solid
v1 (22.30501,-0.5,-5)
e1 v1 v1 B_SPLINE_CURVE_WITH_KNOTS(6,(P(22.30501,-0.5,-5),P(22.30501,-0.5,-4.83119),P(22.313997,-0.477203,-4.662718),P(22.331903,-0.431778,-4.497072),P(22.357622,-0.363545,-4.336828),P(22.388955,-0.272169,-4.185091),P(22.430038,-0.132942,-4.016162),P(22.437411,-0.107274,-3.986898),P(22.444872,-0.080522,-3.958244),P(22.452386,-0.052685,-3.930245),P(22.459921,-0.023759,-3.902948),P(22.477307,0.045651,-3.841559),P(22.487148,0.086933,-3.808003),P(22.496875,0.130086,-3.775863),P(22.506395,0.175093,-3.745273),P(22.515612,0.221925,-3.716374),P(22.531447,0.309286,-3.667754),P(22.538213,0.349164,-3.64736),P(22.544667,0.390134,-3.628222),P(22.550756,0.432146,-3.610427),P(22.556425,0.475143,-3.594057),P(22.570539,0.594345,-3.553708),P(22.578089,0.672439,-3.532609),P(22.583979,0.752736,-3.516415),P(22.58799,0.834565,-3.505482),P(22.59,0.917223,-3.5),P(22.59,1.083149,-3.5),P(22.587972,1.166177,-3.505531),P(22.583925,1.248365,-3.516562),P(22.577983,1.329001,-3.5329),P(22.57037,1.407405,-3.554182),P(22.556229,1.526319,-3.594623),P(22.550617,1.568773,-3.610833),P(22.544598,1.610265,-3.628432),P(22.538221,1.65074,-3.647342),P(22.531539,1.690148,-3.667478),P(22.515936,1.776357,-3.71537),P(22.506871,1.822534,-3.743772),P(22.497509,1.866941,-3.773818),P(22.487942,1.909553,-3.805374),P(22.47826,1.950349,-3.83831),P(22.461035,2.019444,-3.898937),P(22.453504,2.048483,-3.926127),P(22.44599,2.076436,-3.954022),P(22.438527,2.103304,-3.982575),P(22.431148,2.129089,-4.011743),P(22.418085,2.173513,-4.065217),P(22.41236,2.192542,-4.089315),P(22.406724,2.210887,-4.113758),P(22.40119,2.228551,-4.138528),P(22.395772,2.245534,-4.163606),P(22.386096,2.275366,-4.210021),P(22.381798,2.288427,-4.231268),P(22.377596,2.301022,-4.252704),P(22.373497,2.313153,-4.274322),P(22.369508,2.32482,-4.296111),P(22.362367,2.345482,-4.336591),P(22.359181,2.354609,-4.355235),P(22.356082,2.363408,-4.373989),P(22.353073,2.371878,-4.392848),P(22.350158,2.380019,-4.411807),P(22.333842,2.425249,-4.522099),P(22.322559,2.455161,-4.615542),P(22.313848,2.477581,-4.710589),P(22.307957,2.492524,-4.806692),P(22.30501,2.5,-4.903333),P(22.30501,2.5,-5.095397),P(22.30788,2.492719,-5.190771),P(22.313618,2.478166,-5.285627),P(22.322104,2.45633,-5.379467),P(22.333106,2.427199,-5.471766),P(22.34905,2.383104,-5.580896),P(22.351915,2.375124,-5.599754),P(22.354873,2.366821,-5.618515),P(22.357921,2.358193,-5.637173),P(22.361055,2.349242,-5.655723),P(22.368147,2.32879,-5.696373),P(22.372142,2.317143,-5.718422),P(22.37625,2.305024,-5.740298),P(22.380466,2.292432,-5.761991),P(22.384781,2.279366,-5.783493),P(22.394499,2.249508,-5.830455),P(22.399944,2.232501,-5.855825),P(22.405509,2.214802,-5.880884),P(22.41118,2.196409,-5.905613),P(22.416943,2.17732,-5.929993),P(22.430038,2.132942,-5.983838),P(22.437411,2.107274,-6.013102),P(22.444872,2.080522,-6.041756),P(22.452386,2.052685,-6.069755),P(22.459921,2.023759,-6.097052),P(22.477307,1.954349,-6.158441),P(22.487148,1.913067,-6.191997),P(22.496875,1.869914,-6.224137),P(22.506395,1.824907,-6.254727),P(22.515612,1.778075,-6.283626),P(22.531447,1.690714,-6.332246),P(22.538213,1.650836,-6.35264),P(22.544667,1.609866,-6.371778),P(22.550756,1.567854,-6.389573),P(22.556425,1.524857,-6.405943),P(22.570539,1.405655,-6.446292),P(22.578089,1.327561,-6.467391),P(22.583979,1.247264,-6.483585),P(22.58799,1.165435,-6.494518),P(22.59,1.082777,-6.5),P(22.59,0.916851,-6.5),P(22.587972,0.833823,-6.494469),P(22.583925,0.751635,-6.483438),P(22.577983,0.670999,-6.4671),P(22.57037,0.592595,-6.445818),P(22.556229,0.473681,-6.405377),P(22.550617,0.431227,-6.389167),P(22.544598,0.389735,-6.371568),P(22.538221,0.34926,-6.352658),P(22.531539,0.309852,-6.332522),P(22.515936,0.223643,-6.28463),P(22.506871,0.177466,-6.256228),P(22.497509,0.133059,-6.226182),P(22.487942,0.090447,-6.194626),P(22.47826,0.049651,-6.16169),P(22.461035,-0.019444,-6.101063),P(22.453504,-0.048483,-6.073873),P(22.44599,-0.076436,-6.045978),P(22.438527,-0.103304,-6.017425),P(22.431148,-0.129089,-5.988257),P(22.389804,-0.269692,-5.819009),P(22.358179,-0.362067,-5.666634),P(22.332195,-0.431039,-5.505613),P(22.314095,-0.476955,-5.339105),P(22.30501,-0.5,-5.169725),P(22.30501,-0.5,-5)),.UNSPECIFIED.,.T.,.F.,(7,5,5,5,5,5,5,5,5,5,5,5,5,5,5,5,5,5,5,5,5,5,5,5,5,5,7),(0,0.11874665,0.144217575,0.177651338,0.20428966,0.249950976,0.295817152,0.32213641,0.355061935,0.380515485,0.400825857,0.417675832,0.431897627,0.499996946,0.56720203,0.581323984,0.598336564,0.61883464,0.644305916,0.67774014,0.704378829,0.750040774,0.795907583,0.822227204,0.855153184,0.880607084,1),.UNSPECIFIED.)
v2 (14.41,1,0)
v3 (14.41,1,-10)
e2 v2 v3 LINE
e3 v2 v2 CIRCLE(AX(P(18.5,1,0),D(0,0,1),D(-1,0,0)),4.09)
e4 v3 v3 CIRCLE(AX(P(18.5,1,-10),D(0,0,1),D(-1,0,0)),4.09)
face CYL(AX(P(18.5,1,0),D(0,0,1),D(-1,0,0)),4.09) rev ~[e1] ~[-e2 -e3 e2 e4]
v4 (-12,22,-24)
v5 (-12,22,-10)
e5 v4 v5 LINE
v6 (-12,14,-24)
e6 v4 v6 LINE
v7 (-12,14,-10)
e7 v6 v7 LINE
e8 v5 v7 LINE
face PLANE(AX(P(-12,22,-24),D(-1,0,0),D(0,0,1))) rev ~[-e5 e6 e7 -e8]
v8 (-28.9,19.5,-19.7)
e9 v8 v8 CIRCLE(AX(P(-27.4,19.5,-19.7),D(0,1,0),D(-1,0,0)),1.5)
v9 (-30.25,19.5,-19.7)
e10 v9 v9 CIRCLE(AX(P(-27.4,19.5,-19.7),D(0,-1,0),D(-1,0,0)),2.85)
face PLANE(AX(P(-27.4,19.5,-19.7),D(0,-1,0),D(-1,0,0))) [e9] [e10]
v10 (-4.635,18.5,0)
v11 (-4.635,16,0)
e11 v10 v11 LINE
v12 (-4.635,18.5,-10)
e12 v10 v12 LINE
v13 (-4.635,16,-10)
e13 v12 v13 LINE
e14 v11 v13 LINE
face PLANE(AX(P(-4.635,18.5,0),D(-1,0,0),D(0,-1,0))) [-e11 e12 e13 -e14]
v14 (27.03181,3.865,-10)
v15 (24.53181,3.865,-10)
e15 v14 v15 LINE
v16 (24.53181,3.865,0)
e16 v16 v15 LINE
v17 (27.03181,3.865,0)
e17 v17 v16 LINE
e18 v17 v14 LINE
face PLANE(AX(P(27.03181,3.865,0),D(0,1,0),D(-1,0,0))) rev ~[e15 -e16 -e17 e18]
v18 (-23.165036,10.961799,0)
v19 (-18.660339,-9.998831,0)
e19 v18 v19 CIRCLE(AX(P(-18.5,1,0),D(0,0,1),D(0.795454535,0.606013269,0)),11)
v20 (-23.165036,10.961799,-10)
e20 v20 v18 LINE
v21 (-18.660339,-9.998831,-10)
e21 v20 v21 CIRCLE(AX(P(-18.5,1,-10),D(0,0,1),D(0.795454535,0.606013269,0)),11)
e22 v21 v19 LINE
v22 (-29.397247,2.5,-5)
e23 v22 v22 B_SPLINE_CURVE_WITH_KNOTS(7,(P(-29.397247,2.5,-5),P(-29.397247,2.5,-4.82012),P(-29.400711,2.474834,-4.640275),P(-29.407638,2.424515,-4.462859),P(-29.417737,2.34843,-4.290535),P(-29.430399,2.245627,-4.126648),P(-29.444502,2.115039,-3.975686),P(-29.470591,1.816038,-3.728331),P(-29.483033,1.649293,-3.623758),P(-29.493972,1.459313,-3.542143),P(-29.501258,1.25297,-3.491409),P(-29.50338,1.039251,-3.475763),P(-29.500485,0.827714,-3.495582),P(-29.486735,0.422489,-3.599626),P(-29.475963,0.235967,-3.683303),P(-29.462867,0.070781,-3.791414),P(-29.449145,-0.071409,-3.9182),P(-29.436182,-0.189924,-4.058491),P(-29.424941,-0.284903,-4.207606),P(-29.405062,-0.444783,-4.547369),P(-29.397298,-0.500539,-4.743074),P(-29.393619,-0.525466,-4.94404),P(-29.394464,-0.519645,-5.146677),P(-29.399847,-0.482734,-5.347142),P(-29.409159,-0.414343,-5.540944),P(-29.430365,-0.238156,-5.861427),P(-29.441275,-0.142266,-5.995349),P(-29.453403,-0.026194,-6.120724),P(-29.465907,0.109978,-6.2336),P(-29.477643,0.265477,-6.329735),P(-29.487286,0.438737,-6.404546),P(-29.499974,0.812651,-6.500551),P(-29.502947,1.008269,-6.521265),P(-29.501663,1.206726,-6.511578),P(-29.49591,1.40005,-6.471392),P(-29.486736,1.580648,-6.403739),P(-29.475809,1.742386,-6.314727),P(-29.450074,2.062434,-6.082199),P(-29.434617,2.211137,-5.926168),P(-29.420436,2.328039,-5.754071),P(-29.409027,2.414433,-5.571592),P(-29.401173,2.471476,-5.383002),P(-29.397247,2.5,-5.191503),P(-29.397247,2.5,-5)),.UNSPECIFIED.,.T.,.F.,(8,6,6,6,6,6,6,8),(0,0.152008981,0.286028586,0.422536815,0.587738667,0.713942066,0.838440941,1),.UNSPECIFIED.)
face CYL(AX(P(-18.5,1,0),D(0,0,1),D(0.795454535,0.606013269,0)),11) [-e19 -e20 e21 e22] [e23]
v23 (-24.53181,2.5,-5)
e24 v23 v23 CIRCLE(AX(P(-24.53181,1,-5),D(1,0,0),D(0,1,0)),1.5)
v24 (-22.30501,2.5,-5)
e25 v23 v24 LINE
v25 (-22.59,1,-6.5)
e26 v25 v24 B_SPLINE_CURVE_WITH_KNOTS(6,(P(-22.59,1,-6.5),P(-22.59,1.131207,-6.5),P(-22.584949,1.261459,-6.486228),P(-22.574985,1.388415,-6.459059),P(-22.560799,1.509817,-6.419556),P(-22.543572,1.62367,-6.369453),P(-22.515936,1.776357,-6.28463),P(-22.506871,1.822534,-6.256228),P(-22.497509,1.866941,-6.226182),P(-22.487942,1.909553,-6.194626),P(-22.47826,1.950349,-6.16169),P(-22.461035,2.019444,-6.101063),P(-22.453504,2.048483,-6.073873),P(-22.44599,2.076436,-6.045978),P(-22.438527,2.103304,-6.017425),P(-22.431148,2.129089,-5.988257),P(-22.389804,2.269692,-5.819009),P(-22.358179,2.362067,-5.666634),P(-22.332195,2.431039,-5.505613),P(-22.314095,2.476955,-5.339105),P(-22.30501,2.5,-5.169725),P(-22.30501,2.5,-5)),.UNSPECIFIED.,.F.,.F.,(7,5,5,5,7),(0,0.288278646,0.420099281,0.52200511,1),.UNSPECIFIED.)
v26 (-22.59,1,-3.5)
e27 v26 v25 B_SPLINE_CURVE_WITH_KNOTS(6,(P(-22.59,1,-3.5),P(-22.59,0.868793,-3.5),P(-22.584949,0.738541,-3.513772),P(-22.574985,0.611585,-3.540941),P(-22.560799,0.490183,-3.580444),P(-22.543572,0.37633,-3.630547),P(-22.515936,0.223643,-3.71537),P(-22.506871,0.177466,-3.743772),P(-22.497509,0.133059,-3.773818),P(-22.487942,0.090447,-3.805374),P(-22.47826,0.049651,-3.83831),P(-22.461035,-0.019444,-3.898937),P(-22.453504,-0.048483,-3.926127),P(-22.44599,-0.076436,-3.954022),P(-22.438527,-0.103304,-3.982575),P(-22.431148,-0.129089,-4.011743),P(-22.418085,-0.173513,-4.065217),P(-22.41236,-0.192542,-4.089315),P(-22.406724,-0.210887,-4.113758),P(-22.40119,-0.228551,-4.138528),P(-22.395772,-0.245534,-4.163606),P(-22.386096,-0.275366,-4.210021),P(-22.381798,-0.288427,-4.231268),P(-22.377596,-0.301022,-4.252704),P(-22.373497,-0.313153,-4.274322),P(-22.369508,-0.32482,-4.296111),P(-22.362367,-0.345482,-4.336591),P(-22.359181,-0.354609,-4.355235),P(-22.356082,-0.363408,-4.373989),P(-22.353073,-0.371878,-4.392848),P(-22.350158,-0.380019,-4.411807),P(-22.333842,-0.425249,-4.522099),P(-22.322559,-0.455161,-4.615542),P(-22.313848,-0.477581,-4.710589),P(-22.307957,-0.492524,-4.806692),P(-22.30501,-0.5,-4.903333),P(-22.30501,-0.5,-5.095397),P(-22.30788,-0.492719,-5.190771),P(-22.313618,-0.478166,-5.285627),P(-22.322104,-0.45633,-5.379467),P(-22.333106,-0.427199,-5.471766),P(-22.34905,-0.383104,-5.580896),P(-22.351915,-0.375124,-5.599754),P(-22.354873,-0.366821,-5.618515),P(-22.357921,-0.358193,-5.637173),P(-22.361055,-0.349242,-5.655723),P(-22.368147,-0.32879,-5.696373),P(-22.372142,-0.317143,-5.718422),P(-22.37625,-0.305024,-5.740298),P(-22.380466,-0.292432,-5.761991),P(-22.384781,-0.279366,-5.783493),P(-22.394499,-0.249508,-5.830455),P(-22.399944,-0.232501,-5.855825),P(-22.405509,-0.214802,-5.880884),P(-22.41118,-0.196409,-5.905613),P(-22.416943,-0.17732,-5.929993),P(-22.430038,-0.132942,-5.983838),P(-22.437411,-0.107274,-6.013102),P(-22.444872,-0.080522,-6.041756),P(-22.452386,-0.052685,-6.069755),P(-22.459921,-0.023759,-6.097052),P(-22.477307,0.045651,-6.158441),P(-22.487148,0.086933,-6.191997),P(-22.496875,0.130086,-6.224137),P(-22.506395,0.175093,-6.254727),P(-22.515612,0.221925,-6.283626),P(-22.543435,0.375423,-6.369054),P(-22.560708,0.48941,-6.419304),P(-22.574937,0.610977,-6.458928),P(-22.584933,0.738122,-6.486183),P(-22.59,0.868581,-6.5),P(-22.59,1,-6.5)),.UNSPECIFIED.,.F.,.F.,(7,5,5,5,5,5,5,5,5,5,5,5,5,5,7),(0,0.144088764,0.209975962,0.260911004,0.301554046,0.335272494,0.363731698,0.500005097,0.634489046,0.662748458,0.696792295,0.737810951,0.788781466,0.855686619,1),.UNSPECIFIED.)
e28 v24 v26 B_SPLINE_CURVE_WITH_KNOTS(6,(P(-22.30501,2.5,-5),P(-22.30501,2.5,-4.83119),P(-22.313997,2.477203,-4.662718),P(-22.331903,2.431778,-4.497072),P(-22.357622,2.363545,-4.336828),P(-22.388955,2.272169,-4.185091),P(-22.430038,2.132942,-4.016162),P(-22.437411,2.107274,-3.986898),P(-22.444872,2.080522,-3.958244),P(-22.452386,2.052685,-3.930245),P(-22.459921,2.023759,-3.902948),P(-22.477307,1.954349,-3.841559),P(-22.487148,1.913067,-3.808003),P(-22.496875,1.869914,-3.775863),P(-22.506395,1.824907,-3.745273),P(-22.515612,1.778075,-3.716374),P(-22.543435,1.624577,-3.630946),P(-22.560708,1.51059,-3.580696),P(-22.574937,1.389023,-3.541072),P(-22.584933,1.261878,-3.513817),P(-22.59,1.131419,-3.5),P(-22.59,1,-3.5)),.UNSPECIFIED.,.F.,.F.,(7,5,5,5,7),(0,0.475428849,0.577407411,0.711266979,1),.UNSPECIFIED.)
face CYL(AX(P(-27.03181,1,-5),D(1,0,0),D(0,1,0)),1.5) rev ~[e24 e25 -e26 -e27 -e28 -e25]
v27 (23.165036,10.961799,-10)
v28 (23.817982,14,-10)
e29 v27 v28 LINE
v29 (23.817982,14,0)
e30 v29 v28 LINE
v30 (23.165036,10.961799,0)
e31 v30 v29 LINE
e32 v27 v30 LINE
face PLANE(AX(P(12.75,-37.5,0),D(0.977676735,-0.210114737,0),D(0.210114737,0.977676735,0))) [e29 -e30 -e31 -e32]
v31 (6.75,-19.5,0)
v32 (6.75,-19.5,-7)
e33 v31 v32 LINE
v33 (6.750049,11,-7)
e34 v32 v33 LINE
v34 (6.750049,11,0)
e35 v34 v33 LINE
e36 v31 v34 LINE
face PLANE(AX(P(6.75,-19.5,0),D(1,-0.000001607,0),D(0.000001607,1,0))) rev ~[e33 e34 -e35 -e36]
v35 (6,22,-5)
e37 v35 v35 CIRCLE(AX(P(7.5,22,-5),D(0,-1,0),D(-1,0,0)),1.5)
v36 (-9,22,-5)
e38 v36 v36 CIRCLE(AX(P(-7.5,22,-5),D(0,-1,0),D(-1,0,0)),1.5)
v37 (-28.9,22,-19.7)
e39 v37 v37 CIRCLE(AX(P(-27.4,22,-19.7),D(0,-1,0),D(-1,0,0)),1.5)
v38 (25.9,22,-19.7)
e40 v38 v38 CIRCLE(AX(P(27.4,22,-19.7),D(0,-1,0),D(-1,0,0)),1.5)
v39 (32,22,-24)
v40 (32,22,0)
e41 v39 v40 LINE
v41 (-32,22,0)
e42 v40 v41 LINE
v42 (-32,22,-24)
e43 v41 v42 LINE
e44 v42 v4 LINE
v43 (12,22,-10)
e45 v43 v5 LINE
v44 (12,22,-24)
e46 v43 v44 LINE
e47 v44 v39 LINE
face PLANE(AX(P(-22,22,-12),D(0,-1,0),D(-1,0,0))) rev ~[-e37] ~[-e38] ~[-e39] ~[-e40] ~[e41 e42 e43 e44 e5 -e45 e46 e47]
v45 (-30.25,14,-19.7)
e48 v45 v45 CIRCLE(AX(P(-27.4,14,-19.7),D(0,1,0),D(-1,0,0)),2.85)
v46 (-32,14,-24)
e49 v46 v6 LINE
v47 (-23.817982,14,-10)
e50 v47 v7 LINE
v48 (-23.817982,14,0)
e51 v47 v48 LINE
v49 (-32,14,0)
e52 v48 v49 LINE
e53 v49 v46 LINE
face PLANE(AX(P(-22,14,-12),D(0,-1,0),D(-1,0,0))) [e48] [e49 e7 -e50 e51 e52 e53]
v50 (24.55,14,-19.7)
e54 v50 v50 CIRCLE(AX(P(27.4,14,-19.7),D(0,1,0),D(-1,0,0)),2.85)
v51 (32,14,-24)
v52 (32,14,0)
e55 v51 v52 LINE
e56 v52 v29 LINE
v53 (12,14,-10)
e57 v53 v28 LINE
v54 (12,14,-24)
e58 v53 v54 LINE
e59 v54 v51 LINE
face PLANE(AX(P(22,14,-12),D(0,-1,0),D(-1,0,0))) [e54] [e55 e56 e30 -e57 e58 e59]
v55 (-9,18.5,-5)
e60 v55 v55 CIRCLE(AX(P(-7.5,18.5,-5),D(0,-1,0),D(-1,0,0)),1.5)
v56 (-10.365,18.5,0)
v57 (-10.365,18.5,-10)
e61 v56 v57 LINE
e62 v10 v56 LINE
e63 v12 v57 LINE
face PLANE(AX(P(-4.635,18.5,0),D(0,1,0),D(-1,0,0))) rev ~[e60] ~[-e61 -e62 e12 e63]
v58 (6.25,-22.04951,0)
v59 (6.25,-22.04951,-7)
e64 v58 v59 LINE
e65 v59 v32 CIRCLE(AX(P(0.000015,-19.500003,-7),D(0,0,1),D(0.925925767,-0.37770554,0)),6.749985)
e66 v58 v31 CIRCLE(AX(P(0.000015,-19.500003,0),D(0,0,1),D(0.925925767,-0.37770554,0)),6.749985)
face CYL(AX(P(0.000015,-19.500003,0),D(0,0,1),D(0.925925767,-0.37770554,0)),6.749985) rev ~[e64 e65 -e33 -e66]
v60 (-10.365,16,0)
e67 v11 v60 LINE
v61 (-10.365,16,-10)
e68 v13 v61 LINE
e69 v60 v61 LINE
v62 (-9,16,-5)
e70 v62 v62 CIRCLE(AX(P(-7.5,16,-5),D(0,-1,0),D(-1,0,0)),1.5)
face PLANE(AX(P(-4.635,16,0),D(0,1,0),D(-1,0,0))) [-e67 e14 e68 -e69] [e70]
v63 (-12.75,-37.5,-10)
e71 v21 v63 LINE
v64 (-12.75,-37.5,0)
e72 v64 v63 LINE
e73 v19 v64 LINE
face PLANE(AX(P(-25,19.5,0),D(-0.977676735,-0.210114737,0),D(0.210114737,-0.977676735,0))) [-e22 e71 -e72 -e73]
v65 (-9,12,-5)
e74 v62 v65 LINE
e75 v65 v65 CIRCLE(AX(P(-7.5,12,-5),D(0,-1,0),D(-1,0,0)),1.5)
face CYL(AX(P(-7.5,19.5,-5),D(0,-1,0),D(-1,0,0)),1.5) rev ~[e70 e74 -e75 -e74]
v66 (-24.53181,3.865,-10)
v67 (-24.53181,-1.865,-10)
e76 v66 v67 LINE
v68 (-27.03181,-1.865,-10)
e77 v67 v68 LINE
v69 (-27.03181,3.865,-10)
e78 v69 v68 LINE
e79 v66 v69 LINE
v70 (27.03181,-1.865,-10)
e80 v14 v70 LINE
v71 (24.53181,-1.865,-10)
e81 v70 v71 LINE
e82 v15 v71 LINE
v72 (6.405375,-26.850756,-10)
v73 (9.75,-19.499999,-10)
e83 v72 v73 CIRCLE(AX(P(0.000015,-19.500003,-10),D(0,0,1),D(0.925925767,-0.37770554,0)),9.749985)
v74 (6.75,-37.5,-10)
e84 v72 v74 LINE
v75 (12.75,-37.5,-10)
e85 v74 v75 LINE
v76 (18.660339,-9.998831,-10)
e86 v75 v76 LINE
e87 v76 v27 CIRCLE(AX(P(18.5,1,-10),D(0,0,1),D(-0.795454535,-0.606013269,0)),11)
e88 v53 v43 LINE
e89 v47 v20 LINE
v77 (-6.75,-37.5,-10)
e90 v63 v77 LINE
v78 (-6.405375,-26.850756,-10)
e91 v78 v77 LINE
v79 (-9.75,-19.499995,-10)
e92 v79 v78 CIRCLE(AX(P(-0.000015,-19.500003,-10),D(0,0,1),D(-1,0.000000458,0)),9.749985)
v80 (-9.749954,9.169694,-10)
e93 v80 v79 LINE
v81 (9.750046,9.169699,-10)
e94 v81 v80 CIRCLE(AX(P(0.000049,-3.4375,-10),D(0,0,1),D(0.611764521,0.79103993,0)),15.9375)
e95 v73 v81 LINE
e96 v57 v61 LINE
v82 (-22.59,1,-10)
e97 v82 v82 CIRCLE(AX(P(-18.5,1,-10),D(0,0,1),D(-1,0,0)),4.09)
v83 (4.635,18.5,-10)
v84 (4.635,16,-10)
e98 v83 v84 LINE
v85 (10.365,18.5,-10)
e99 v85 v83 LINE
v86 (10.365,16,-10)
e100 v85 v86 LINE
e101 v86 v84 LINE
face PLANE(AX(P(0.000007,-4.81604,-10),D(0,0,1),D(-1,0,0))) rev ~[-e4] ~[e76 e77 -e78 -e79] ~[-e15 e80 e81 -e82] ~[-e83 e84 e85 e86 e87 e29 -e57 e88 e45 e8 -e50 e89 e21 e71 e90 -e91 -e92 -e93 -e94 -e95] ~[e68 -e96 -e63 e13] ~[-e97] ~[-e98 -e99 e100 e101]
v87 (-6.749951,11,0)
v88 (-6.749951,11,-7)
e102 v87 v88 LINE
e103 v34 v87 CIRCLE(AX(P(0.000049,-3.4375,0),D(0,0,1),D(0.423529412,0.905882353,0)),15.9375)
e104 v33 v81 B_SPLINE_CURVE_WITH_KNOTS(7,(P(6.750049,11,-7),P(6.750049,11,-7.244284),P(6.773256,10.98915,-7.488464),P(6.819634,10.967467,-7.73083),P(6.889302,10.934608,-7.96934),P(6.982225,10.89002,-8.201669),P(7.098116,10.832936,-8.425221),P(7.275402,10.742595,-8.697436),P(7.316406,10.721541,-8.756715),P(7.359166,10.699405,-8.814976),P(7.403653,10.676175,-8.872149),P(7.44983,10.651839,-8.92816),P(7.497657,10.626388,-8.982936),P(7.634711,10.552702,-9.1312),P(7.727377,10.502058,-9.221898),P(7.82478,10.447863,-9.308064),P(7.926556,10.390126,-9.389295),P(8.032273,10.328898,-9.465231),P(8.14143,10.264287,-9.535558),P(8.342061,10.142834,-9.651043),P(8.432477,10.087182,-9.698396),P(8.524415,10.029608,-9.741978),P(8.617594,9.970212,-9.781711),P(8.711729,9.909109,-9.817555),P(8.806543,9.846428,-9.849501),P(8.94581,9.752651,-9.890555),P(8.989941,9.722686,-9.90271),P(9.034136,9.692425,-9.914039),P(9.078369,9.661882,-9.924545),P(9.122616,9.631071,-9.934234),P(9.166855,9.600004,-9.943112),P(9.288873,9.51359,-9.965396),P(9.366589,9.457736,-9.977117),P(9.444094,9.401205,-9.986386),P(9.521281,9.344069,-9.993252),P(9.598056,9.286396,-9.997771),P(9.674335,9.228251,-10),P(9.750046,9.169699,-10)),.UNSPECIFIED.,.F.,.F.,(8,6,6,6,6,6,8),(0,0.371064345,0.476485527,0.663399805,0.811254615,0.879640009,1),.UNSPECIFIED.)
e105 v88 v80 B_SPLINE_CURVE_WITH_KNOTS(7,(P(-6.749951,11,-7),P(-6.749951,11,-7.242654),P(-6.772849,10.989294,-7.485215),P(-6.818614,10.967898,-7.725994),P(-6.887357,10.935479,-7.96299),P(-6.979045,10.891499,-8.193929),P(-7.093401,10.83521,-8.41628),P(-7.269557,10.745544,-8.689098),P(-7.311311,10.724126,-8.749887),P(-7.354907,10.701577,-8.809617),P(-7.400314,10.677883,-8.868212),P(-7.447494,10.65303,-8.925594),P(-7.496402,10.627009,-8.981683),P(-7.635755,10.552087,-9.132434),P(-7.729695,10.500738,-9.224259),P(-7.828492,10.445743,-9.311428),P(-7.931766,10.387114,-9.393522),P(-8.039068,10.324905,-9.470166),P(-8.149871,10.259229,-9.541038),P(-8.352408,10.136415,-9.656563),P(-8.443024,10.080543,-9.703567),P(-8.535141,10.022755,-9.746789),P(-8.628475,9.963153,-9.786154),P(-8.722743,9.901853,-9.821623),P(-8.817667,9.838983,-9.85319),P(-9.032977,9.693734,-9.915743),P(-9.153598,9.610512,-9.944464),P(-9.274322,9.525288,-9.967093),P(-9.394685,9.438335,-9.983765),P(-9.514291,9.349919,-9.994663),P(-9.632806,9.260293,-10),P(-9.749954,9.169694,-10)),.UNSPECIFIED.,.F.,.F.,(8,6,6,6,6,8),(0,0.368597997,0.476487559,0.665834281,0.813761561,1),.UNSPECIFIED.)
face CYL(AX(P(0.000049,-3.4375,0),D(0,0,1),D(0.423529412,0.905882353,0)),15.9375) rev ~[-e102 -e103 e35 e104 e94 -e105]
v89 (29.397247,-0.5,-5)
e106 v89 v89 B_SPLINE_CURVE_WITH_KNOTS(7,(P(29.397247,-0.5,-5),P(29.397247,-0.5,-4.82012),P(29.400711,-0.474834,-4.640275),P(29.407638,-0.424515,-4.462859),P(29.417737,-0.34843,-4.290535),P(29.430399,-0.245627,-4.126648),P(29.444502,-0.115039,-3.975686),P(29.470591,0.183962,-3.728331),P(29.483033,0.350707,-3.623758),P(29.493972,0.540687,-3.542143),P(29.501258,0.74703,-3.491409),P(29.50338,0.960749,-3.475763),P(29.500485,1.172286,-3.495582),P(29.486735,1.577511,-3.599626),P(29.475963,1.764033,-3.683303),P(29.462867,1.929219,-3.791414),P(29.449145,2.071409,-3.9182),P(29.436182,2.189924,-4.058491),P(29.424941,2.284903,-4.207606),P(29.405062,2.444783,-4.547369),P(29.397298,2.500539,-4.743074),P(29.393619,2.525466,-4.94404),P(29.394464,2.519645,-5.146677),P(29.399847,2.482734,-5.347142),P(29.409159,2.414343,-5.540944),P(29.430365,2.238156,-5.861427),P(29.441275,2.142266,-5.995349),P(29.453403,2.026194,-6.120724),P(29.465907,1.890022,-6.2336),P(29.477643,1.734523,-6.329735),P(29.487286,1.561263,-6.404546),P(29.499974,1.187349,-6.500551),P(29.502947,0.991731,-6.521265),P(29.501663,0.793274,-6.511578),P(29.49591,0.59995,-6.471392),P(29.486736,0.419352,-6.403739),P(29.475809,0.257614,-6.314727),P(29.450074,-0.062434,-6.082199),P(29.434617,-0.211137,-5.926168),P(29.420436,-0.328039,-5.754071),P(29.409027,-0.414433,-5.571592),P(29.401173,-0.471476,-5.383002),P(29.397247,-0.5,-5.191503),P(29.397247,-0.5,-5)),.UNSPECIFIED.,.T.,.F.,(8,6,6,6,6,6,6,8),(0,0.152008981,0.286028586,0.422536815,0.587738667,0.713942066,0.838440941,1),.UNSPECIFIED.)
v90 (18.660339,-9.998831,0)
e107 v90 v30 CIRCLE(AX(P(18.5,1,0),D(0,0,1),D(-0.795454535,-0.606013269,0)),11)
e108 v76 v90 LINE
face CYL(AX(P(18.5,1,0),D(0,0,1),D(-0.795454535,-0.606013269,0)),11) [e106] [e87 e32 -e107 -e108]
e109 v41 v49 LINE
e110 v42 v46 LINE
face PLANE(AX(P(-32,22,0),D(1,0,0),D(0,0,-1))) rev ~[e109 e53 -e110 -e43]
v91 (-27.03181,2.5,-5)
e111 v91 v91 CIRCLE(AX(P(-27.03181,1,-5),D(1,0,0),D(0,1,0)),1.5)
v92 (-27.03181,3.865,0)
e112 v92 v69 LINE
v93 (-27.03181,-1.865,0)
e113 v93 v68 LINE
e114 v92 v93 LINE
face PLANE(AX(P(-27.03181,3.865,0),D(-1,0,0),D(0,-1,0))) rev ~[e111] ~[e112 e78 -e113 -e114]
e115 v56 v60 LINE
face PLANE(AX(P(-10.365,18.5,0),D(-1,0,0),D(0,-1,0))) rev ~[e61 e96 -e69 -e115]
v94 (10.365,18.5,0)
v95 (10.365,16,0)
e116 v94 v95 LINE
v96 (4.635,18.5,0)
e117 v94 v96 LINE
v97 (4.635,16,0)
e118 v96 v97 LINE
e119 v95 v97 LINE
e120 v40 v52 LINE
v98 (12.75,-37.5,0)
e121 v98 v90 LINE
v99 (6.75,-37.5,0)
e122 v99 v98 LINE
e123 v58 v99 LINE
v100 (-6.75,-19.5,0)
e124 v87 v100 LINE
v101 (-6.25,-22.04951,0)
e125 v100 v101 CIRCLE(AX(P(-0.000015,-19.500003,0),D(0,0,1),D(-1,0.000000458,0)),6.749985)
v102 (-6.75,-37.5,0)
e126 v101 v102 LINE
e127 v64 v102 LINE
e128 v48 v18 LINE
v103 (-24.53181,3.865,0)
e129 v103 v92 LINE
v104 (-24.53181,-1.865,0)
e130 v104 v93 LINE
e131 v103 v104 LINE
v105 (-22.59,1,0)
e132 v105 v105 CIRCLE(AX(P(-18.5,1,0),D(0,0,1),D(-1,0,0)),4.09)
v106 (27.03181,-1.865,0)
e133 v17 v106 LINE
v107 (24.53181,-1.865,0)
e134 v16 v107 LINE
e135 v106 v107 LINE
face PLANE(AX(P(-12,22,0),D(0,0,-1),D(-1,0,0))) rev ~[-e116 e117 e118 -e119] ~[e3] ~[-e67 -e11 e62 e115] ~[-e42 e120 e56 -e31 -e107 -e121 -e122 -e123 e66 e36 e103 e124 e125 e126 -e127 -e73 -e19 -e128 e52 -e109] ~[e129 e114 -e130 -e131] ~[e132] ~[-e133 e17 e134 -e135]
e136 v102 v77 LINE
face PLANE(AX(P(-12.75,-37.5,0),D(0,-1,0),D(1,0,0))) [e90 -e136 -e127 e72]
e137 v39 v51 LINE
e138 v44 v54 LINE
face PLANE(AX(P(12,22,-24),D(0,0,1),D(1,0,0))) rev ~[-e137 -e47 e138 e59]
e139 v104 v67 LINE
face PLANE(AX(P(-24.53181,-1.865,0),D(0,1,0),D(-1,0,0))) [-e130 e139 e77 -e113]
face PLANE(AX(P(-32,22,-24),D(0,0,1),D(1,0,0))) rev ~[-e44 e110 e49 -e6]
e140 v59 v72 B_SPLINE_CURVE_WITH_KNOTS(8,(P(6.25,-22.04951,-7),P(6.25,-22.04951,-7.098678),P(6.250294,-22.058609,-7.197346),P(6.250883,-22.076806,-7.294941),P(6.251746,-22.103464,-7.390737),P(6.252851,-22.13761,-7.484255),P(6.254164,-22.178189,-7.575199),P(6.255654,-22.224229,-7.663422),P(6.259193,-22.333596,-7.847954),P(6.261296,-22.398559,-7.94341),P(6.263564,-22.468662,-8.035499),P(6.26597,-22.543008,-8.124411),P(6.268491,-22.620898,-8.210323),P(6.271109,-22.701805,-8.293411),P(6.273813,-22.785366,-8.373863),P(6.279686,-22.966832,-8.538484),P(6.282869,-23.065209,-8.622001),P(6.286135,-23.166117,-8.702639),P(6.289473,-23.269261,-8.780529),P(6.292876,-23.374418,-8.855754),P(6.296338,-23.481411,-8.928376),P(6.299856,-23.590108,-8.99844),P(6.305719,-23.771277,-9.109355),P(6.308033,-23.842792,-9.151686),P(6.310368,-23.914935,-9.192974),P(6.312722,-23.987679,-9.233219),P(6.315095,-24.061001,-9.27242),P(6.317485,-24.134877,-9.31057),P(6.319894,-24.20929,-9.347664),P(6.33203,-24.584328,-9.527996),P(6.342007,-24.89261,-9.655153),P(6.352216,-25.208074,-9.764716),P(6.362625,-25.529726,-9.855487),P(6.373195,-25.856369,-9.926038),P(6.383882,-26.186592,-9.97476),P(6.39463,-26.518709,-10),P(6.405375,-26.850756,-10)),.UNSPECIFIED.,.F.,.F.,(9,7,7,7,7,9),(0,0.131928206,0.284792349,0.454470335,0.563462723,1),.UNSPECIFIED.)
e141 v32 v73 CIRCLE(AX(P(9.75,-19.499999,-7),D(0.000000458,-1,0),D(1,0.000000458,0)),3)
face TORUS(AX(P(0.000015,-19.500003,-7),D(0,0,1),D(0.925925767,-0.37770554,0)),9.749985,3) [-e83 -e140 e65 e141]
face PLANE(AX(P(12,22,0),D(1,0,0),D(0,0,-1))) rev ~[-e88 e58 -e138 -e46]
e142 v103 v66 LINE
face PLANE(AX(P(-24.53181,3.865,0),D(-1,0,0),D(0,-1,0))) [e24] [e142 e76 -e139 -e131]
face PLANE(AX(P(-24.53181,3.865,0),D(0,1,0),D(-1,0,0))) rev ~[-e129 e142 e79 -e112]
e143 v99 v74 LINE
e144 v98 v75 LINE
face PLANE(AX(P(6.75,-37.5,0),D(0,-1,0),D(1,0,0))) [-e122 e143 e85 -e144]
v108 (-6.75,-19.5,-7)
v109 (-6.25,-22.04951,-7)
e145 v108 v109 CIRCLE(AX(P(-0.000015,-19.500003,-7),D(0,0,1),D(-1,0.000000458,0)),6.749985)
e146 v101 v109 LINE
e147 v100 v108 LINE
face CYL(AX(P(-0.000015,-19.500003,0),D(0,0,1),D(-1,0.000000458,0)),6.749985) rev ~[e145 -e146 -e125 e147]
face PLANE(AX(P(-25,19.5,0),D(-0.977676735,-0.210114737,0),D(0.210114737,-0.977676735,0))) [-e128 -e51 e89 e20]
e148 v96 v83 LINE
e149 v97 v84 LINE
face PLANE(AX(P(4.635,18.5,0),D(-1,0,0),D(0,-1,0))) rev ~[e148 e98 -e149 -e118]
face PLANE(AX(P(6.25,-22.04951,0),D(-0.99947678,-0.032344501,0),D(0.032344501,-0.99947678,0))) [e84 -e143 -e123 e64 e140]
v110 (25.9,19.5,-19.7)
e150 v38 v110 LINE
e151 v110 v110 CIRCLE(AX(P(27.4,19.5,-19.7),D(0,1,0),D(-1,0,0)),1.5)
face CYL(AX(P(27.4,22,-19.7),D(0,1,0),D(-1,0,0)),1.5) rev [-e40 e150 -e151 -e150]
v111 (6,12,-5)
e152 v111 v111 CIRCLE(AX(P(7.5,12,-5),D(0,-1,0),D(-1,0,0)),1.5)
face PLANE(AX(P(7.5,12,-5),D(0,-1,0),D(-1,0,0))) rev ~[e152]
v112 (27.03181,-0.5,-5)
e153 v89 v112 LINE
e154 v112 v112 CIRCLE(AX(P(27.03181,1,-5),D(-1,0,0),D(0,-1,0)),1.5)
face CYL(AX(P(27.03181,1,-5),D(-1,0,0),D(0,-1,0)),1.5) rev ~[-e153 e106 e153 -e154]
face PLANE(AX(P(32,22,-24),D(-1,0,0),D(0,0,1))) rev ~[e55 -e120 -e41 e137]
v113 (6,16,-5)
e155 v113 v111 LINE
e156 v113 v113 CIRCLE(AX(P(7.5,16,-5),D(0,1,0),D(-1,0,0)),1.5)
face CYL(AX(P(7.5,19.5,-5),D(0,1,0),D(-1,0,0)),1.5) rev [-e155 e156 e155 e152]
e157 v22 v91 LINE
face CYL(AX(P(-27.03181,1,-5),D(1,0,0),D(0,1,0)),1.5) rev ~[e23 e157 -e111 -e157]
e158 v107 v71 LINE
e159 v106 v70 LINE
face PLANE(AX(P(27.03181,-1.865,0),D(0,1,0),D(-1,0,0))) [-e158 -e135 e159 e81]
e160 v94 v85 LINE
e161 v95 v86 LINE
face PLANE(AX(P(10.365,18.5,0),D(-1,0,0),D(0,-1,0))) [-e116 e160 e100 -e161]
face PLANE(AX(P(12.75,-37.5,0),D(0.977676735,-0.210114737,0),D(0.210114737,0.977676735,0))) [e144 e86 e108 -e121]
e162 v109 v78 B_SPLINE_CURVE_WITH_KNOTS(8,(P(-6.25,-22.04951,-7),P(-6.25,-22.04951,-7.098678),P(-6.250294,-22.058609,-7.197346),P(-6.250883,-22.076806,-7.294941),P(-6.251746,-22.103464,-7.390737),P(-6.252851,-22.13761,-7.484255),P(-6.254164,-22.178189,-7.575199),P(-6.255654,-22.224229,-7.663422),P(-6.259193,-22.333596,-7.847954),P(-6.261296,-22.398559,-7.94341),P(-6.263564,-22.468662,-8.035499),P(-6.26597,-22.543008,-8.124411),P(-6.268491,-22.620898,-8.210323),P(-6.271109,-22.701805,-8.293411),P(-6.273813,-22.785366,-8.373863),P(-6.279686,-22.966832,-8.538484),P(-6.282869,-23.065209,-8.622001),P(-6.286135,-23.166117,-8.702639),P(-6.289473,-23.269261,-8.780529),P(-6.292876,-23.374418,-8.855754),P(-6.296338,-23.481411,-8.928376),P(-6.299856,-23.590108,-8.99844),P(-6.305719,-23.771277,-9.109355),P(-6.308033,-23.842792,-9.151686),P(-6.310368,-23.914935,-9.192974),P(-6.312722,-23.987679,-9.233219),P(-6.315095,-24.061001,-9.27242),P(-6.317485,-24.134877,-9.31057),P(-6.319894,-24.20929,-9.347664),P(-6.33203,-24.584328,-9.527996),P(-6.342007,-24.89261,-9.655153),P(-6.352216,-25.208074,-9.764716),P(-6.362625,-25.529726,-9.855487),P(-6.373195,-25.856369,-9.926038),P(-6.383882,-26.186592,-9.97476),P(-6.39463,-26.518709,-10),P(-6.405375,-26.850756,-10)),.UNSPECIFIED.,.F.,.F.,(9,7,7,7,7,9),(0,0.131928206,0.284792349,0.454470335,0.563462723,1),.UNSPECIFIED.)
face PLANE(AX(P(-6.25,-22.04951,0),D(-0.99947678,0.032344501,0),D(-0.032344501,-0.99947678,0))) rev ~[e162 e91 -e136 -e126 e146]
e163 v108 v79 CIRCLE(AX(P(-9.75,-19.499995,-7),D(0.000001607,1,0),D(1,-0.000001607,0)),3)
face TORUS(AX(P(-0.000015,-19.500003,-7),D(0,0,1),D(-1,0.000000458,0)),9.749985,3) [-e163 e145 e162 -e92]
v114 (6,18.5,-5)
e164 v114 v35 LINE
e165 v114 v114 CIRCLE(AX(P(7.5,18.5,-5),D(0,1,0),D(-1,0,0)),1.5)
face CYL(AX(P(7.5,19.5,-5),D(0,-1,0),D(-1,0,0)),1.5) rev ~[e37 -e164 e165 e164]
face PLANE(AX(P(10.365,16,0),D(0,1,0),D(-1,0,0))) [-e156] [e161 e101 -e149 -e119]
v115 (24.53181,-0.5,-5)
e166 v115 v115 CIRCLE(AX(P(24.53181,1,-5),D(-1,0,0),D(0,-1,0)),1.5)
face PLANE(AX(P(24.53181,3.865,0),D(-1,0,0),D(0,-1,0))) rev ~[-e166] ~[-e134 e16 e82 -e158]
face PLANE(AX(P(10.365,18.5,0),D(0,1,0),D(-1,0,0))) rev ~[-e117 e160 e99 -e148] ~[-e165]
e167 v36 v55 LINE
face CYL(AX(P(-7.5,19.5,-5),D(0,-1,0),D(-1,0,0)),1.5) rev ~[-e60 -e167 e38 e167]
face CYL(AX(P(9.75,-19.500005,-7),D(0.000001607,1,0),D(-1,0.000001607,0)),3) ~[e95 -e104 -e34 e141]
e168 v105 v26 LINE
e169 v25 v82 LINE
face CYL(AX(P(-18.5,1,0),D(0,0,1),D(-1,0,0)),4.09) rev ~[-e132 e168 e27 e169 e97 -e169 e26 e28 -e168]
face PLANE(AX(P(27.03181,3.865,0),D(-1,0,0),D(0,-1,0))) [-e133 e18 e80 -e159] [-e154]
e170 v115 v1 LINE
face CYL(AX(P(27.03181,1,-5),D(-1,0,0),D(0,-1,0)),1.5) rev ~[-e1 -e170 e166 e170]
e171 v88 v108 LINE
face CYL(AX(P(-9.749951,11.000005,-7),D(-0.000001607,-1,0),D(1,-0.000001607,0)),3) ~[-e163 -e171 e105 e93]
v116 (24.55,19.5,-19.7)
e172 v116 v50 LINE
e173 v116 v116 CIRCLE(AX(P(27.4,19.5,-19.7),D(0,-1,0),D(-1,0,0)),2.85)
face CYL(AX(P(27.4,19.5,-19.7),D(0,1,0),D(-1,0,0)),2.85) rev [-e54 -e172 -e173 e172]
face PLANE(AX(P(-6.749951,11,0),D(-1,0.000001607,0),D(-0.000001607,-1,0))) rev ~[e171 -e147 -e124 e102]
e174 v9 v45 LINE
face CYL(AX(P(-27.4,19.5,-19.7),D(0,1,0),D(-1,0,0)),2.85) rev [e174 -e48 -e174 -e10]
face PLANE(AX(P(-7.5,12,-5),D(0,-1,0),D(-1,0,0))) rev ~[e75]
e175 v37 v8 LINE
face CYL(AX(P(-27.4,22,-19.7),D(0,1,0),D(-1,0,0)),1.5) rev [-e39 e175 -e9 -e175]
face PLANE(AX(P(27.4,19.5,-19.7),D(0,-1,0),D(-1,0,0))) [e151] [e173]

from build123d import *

# Parameters (mm, degrees)
PAD006_DEPTH            = 10
FILLET001_R             = 3
PAD013_DEPTH            = 10
SKETCH022_R             = 4.09
SKETCH022_W             = 2.5
SKETCH022_H             = 5.73
SKETCH022_W_2           = 5.73
SKETCH022_H_2           = 2.5
POCKET013_DEPTH         = 10.001
POCKET013_DEPTH_BACK    = 0.001
SKETCH023_R             = 1.5
POCKET014_DEPTH         = 7.5
SKETCH024_R             = 1.5
PAD019_DEPTH            = 8
SKETCH043_R             = 2.85
POCKET026_DEPTH         = 57.001
SKETCH047_R             = 1.5
POCKET029_DEPTH         = 5
SKETCH048_R             = 1.5
POCKET030_DEPTH         = 5
BODY005_ROLL_ANGLE      = -90
BODY005_PLACEMENT_ANGLE = 180


with BuildPart() as part:
    # Sketch006 → Pad006 (new body)
    with BuildSketch(Plane.XZ):
        with BuildLine():
            Line((18.25, 57), (12.25, 57))
            Line((12.25, 57), (0, 0))
            Line((0, 0), (0, -2.5))
            Line((0, -2.5), (50, -2.5))
            Line((50, -2.5), (50, 0))
            Line((50, 0), (37.75, 57))
            Line((37.75, 57), (31.75, 57))
            Line((31.25, 41.54951), (31.75, 57))
            ThreePointArc((31.75, 39), (31.623821, 40.299038), (31.25, 41.54951))
            Line((31.749951, 8.5), (31.75, 39))
            ThreePointArc((18.249951, 8.5), (24.999951, 7), (31.749951, 8.5))
            Line((18.25, 39), (18.249951, 8.5))
            ThreePointArc((18.75, 41.54951), (18.376179, 40.299038), (18.25, 39))
            Line((18.75, 41.54951), (18.25, 57))
        make_face()
    extrude(amount=-PAD006_DEPTH)

    # Fillet001
    fillet001_edges = [part.edges().sort_by_distance(p)[0] for p in [
        (31.749976, 10, 23.75),
        (18.249976, 10, 23.75),
        (18.376179, 10, 40.299038),
        (31.623821, 10, 40.299038),
    ]]
    fillet(fillet001_edges, radius=FILLET001_R)

    # Sketch021 → Pad013 (join)
    with BuildSketch(Plane.XZ):
        with BuildLine():
            ThreePointArc((15.25, 25.166146), (-4.5, 18.5), (15.25, 11.833854))
            Line((15.25, 25.166146), (15.25, 11.833854))
        make_face()
        with BuildLine():
            ThreePointArc((34.75, 11.833854), (54.5, 18.5), (34.75, 25.166146))
            Line((34.75, 25.166146), (34.75, 11.833854))
        make_face()
    extrude(amount=-PAD013_DEPTH)

    # Sketch022 → Pocket013 (cut, two sides)
    with BuildSketch(Plane.XZ) as pocket013_sk:
        with Locations((43.5, 18.5)):
            Circle(SKETCH022_R)
        with Locations((6.5, 18.5)):
            Circle(SKETCH022_R)
        with Locations((-0.78181, 18.5)):
            Rectangle(SKETCH022_W, SKETCH022_H)
        with Locations((50.78181, 18.5)):
            Rectangle(SKETCH022_W, SKETCH022_H)
        with Locations((32.5, 2.25)):
            Rectangle(SKETCH022_W_2, SKETCH022_H_2)
        with Locations((17.5, 2.25)):
            Rectangle(SKETCH022_W_2, SKETCH022_H_2)
    extrude(amount=-POCKET013_DEPTH, mode=Mode.SUBTRACT)
    extrude(pocket013_sk.sketch, amount=POCKET013_DEPTH_BACK, mode=Mode.SUBTRACT)

    # Sketch023 → Pocket014 (cut, symmetric)
    with BuildSketch(Plane.XY):
        with Locations((17.5, 5)):
            Circle(SKETCH023_R)
        with Locations((32.5, 5)):
            Circle(SKETCH023_R)
    extrude(amount=POCKET014_DEPTH, both=True, mode=Mode.SUBTRACT)

    # Sketch024 → Pad019 (join)
    with BuildSketch(Plane.XY.offset(-2.5)):
        Polygon((57, 0), (57, 24), (37, 24), (37, 0), (50, 0), align=None)
        with Locations((52.4, 19.7)):
            Circle(SKETCH024_R, mode=Mode.SUBTRACT)
        Polygon((-7, 24), (-7, 0), (0, 0), (13, 0), (13, 24), align=None)
        with Locations((-2.4, 19.7)):
            Circle(SKETCH024_R, mode=Mode.SUBTRACT)
    extrude(amount=PAD019_DEPTH)

    # Sketch043 → Pocket026 (cut, through all)
    with BuildSketch(Plane.XY):
        with Locations((-2.4, 19.7)):
            Circle(SKETCH043_R)
        with Locations((52.4, 19.7)):
            Circle(SKETCH043_R)
    extrude(amount=POCKET026_DEPTH, mode=Mode.SUBTRACT)

    # Sketch047 (on DatumPlane) → Pocket029 (cut, symmetric)
    with BuildSketch(Plane(origin=(52.03181, 0, 0), x_dir=(0, 0, -1), z_dir=(-1, 0, 0))):
        with Locations((-18.5, -5)):
            Circle(SKETCH047_R)
    extrude(amount=POCKET029_DEPTH, both=True, mode=Mode.SUBTRACT)

    # Sketch048 (on DatumPlane) → Pocket030 (cut, symmetric)
    with BuildSketch(Plane(origin=(-2.03181, 0, 0), x_dir=(0, 0, 1), z_dir=(1, 0, 0))):
        with Locations((18.5, -5)):
            Circle(SKETCH048_R)
    extrude(amount=POCKET030_DEPTH, both=True, mode=Mode.SUBTRACT)


with BuildPart() as part_1:
    # Body005 roll: moved
    add(part.part.rotate(Axis((0, 0, 0), (1, 0, 0)), BODY005_ROLL_ANGLE))


with BuildPart() as part_2:
    # Body005 placement: moved
    add(part_1.part.moved(Location((25, 19.5, 0))).rotate(Axis((25, 19.5, 0), (0, 0, 1)), BODY005_PLACEMENT_ANGLE))


solid = part_2.part
